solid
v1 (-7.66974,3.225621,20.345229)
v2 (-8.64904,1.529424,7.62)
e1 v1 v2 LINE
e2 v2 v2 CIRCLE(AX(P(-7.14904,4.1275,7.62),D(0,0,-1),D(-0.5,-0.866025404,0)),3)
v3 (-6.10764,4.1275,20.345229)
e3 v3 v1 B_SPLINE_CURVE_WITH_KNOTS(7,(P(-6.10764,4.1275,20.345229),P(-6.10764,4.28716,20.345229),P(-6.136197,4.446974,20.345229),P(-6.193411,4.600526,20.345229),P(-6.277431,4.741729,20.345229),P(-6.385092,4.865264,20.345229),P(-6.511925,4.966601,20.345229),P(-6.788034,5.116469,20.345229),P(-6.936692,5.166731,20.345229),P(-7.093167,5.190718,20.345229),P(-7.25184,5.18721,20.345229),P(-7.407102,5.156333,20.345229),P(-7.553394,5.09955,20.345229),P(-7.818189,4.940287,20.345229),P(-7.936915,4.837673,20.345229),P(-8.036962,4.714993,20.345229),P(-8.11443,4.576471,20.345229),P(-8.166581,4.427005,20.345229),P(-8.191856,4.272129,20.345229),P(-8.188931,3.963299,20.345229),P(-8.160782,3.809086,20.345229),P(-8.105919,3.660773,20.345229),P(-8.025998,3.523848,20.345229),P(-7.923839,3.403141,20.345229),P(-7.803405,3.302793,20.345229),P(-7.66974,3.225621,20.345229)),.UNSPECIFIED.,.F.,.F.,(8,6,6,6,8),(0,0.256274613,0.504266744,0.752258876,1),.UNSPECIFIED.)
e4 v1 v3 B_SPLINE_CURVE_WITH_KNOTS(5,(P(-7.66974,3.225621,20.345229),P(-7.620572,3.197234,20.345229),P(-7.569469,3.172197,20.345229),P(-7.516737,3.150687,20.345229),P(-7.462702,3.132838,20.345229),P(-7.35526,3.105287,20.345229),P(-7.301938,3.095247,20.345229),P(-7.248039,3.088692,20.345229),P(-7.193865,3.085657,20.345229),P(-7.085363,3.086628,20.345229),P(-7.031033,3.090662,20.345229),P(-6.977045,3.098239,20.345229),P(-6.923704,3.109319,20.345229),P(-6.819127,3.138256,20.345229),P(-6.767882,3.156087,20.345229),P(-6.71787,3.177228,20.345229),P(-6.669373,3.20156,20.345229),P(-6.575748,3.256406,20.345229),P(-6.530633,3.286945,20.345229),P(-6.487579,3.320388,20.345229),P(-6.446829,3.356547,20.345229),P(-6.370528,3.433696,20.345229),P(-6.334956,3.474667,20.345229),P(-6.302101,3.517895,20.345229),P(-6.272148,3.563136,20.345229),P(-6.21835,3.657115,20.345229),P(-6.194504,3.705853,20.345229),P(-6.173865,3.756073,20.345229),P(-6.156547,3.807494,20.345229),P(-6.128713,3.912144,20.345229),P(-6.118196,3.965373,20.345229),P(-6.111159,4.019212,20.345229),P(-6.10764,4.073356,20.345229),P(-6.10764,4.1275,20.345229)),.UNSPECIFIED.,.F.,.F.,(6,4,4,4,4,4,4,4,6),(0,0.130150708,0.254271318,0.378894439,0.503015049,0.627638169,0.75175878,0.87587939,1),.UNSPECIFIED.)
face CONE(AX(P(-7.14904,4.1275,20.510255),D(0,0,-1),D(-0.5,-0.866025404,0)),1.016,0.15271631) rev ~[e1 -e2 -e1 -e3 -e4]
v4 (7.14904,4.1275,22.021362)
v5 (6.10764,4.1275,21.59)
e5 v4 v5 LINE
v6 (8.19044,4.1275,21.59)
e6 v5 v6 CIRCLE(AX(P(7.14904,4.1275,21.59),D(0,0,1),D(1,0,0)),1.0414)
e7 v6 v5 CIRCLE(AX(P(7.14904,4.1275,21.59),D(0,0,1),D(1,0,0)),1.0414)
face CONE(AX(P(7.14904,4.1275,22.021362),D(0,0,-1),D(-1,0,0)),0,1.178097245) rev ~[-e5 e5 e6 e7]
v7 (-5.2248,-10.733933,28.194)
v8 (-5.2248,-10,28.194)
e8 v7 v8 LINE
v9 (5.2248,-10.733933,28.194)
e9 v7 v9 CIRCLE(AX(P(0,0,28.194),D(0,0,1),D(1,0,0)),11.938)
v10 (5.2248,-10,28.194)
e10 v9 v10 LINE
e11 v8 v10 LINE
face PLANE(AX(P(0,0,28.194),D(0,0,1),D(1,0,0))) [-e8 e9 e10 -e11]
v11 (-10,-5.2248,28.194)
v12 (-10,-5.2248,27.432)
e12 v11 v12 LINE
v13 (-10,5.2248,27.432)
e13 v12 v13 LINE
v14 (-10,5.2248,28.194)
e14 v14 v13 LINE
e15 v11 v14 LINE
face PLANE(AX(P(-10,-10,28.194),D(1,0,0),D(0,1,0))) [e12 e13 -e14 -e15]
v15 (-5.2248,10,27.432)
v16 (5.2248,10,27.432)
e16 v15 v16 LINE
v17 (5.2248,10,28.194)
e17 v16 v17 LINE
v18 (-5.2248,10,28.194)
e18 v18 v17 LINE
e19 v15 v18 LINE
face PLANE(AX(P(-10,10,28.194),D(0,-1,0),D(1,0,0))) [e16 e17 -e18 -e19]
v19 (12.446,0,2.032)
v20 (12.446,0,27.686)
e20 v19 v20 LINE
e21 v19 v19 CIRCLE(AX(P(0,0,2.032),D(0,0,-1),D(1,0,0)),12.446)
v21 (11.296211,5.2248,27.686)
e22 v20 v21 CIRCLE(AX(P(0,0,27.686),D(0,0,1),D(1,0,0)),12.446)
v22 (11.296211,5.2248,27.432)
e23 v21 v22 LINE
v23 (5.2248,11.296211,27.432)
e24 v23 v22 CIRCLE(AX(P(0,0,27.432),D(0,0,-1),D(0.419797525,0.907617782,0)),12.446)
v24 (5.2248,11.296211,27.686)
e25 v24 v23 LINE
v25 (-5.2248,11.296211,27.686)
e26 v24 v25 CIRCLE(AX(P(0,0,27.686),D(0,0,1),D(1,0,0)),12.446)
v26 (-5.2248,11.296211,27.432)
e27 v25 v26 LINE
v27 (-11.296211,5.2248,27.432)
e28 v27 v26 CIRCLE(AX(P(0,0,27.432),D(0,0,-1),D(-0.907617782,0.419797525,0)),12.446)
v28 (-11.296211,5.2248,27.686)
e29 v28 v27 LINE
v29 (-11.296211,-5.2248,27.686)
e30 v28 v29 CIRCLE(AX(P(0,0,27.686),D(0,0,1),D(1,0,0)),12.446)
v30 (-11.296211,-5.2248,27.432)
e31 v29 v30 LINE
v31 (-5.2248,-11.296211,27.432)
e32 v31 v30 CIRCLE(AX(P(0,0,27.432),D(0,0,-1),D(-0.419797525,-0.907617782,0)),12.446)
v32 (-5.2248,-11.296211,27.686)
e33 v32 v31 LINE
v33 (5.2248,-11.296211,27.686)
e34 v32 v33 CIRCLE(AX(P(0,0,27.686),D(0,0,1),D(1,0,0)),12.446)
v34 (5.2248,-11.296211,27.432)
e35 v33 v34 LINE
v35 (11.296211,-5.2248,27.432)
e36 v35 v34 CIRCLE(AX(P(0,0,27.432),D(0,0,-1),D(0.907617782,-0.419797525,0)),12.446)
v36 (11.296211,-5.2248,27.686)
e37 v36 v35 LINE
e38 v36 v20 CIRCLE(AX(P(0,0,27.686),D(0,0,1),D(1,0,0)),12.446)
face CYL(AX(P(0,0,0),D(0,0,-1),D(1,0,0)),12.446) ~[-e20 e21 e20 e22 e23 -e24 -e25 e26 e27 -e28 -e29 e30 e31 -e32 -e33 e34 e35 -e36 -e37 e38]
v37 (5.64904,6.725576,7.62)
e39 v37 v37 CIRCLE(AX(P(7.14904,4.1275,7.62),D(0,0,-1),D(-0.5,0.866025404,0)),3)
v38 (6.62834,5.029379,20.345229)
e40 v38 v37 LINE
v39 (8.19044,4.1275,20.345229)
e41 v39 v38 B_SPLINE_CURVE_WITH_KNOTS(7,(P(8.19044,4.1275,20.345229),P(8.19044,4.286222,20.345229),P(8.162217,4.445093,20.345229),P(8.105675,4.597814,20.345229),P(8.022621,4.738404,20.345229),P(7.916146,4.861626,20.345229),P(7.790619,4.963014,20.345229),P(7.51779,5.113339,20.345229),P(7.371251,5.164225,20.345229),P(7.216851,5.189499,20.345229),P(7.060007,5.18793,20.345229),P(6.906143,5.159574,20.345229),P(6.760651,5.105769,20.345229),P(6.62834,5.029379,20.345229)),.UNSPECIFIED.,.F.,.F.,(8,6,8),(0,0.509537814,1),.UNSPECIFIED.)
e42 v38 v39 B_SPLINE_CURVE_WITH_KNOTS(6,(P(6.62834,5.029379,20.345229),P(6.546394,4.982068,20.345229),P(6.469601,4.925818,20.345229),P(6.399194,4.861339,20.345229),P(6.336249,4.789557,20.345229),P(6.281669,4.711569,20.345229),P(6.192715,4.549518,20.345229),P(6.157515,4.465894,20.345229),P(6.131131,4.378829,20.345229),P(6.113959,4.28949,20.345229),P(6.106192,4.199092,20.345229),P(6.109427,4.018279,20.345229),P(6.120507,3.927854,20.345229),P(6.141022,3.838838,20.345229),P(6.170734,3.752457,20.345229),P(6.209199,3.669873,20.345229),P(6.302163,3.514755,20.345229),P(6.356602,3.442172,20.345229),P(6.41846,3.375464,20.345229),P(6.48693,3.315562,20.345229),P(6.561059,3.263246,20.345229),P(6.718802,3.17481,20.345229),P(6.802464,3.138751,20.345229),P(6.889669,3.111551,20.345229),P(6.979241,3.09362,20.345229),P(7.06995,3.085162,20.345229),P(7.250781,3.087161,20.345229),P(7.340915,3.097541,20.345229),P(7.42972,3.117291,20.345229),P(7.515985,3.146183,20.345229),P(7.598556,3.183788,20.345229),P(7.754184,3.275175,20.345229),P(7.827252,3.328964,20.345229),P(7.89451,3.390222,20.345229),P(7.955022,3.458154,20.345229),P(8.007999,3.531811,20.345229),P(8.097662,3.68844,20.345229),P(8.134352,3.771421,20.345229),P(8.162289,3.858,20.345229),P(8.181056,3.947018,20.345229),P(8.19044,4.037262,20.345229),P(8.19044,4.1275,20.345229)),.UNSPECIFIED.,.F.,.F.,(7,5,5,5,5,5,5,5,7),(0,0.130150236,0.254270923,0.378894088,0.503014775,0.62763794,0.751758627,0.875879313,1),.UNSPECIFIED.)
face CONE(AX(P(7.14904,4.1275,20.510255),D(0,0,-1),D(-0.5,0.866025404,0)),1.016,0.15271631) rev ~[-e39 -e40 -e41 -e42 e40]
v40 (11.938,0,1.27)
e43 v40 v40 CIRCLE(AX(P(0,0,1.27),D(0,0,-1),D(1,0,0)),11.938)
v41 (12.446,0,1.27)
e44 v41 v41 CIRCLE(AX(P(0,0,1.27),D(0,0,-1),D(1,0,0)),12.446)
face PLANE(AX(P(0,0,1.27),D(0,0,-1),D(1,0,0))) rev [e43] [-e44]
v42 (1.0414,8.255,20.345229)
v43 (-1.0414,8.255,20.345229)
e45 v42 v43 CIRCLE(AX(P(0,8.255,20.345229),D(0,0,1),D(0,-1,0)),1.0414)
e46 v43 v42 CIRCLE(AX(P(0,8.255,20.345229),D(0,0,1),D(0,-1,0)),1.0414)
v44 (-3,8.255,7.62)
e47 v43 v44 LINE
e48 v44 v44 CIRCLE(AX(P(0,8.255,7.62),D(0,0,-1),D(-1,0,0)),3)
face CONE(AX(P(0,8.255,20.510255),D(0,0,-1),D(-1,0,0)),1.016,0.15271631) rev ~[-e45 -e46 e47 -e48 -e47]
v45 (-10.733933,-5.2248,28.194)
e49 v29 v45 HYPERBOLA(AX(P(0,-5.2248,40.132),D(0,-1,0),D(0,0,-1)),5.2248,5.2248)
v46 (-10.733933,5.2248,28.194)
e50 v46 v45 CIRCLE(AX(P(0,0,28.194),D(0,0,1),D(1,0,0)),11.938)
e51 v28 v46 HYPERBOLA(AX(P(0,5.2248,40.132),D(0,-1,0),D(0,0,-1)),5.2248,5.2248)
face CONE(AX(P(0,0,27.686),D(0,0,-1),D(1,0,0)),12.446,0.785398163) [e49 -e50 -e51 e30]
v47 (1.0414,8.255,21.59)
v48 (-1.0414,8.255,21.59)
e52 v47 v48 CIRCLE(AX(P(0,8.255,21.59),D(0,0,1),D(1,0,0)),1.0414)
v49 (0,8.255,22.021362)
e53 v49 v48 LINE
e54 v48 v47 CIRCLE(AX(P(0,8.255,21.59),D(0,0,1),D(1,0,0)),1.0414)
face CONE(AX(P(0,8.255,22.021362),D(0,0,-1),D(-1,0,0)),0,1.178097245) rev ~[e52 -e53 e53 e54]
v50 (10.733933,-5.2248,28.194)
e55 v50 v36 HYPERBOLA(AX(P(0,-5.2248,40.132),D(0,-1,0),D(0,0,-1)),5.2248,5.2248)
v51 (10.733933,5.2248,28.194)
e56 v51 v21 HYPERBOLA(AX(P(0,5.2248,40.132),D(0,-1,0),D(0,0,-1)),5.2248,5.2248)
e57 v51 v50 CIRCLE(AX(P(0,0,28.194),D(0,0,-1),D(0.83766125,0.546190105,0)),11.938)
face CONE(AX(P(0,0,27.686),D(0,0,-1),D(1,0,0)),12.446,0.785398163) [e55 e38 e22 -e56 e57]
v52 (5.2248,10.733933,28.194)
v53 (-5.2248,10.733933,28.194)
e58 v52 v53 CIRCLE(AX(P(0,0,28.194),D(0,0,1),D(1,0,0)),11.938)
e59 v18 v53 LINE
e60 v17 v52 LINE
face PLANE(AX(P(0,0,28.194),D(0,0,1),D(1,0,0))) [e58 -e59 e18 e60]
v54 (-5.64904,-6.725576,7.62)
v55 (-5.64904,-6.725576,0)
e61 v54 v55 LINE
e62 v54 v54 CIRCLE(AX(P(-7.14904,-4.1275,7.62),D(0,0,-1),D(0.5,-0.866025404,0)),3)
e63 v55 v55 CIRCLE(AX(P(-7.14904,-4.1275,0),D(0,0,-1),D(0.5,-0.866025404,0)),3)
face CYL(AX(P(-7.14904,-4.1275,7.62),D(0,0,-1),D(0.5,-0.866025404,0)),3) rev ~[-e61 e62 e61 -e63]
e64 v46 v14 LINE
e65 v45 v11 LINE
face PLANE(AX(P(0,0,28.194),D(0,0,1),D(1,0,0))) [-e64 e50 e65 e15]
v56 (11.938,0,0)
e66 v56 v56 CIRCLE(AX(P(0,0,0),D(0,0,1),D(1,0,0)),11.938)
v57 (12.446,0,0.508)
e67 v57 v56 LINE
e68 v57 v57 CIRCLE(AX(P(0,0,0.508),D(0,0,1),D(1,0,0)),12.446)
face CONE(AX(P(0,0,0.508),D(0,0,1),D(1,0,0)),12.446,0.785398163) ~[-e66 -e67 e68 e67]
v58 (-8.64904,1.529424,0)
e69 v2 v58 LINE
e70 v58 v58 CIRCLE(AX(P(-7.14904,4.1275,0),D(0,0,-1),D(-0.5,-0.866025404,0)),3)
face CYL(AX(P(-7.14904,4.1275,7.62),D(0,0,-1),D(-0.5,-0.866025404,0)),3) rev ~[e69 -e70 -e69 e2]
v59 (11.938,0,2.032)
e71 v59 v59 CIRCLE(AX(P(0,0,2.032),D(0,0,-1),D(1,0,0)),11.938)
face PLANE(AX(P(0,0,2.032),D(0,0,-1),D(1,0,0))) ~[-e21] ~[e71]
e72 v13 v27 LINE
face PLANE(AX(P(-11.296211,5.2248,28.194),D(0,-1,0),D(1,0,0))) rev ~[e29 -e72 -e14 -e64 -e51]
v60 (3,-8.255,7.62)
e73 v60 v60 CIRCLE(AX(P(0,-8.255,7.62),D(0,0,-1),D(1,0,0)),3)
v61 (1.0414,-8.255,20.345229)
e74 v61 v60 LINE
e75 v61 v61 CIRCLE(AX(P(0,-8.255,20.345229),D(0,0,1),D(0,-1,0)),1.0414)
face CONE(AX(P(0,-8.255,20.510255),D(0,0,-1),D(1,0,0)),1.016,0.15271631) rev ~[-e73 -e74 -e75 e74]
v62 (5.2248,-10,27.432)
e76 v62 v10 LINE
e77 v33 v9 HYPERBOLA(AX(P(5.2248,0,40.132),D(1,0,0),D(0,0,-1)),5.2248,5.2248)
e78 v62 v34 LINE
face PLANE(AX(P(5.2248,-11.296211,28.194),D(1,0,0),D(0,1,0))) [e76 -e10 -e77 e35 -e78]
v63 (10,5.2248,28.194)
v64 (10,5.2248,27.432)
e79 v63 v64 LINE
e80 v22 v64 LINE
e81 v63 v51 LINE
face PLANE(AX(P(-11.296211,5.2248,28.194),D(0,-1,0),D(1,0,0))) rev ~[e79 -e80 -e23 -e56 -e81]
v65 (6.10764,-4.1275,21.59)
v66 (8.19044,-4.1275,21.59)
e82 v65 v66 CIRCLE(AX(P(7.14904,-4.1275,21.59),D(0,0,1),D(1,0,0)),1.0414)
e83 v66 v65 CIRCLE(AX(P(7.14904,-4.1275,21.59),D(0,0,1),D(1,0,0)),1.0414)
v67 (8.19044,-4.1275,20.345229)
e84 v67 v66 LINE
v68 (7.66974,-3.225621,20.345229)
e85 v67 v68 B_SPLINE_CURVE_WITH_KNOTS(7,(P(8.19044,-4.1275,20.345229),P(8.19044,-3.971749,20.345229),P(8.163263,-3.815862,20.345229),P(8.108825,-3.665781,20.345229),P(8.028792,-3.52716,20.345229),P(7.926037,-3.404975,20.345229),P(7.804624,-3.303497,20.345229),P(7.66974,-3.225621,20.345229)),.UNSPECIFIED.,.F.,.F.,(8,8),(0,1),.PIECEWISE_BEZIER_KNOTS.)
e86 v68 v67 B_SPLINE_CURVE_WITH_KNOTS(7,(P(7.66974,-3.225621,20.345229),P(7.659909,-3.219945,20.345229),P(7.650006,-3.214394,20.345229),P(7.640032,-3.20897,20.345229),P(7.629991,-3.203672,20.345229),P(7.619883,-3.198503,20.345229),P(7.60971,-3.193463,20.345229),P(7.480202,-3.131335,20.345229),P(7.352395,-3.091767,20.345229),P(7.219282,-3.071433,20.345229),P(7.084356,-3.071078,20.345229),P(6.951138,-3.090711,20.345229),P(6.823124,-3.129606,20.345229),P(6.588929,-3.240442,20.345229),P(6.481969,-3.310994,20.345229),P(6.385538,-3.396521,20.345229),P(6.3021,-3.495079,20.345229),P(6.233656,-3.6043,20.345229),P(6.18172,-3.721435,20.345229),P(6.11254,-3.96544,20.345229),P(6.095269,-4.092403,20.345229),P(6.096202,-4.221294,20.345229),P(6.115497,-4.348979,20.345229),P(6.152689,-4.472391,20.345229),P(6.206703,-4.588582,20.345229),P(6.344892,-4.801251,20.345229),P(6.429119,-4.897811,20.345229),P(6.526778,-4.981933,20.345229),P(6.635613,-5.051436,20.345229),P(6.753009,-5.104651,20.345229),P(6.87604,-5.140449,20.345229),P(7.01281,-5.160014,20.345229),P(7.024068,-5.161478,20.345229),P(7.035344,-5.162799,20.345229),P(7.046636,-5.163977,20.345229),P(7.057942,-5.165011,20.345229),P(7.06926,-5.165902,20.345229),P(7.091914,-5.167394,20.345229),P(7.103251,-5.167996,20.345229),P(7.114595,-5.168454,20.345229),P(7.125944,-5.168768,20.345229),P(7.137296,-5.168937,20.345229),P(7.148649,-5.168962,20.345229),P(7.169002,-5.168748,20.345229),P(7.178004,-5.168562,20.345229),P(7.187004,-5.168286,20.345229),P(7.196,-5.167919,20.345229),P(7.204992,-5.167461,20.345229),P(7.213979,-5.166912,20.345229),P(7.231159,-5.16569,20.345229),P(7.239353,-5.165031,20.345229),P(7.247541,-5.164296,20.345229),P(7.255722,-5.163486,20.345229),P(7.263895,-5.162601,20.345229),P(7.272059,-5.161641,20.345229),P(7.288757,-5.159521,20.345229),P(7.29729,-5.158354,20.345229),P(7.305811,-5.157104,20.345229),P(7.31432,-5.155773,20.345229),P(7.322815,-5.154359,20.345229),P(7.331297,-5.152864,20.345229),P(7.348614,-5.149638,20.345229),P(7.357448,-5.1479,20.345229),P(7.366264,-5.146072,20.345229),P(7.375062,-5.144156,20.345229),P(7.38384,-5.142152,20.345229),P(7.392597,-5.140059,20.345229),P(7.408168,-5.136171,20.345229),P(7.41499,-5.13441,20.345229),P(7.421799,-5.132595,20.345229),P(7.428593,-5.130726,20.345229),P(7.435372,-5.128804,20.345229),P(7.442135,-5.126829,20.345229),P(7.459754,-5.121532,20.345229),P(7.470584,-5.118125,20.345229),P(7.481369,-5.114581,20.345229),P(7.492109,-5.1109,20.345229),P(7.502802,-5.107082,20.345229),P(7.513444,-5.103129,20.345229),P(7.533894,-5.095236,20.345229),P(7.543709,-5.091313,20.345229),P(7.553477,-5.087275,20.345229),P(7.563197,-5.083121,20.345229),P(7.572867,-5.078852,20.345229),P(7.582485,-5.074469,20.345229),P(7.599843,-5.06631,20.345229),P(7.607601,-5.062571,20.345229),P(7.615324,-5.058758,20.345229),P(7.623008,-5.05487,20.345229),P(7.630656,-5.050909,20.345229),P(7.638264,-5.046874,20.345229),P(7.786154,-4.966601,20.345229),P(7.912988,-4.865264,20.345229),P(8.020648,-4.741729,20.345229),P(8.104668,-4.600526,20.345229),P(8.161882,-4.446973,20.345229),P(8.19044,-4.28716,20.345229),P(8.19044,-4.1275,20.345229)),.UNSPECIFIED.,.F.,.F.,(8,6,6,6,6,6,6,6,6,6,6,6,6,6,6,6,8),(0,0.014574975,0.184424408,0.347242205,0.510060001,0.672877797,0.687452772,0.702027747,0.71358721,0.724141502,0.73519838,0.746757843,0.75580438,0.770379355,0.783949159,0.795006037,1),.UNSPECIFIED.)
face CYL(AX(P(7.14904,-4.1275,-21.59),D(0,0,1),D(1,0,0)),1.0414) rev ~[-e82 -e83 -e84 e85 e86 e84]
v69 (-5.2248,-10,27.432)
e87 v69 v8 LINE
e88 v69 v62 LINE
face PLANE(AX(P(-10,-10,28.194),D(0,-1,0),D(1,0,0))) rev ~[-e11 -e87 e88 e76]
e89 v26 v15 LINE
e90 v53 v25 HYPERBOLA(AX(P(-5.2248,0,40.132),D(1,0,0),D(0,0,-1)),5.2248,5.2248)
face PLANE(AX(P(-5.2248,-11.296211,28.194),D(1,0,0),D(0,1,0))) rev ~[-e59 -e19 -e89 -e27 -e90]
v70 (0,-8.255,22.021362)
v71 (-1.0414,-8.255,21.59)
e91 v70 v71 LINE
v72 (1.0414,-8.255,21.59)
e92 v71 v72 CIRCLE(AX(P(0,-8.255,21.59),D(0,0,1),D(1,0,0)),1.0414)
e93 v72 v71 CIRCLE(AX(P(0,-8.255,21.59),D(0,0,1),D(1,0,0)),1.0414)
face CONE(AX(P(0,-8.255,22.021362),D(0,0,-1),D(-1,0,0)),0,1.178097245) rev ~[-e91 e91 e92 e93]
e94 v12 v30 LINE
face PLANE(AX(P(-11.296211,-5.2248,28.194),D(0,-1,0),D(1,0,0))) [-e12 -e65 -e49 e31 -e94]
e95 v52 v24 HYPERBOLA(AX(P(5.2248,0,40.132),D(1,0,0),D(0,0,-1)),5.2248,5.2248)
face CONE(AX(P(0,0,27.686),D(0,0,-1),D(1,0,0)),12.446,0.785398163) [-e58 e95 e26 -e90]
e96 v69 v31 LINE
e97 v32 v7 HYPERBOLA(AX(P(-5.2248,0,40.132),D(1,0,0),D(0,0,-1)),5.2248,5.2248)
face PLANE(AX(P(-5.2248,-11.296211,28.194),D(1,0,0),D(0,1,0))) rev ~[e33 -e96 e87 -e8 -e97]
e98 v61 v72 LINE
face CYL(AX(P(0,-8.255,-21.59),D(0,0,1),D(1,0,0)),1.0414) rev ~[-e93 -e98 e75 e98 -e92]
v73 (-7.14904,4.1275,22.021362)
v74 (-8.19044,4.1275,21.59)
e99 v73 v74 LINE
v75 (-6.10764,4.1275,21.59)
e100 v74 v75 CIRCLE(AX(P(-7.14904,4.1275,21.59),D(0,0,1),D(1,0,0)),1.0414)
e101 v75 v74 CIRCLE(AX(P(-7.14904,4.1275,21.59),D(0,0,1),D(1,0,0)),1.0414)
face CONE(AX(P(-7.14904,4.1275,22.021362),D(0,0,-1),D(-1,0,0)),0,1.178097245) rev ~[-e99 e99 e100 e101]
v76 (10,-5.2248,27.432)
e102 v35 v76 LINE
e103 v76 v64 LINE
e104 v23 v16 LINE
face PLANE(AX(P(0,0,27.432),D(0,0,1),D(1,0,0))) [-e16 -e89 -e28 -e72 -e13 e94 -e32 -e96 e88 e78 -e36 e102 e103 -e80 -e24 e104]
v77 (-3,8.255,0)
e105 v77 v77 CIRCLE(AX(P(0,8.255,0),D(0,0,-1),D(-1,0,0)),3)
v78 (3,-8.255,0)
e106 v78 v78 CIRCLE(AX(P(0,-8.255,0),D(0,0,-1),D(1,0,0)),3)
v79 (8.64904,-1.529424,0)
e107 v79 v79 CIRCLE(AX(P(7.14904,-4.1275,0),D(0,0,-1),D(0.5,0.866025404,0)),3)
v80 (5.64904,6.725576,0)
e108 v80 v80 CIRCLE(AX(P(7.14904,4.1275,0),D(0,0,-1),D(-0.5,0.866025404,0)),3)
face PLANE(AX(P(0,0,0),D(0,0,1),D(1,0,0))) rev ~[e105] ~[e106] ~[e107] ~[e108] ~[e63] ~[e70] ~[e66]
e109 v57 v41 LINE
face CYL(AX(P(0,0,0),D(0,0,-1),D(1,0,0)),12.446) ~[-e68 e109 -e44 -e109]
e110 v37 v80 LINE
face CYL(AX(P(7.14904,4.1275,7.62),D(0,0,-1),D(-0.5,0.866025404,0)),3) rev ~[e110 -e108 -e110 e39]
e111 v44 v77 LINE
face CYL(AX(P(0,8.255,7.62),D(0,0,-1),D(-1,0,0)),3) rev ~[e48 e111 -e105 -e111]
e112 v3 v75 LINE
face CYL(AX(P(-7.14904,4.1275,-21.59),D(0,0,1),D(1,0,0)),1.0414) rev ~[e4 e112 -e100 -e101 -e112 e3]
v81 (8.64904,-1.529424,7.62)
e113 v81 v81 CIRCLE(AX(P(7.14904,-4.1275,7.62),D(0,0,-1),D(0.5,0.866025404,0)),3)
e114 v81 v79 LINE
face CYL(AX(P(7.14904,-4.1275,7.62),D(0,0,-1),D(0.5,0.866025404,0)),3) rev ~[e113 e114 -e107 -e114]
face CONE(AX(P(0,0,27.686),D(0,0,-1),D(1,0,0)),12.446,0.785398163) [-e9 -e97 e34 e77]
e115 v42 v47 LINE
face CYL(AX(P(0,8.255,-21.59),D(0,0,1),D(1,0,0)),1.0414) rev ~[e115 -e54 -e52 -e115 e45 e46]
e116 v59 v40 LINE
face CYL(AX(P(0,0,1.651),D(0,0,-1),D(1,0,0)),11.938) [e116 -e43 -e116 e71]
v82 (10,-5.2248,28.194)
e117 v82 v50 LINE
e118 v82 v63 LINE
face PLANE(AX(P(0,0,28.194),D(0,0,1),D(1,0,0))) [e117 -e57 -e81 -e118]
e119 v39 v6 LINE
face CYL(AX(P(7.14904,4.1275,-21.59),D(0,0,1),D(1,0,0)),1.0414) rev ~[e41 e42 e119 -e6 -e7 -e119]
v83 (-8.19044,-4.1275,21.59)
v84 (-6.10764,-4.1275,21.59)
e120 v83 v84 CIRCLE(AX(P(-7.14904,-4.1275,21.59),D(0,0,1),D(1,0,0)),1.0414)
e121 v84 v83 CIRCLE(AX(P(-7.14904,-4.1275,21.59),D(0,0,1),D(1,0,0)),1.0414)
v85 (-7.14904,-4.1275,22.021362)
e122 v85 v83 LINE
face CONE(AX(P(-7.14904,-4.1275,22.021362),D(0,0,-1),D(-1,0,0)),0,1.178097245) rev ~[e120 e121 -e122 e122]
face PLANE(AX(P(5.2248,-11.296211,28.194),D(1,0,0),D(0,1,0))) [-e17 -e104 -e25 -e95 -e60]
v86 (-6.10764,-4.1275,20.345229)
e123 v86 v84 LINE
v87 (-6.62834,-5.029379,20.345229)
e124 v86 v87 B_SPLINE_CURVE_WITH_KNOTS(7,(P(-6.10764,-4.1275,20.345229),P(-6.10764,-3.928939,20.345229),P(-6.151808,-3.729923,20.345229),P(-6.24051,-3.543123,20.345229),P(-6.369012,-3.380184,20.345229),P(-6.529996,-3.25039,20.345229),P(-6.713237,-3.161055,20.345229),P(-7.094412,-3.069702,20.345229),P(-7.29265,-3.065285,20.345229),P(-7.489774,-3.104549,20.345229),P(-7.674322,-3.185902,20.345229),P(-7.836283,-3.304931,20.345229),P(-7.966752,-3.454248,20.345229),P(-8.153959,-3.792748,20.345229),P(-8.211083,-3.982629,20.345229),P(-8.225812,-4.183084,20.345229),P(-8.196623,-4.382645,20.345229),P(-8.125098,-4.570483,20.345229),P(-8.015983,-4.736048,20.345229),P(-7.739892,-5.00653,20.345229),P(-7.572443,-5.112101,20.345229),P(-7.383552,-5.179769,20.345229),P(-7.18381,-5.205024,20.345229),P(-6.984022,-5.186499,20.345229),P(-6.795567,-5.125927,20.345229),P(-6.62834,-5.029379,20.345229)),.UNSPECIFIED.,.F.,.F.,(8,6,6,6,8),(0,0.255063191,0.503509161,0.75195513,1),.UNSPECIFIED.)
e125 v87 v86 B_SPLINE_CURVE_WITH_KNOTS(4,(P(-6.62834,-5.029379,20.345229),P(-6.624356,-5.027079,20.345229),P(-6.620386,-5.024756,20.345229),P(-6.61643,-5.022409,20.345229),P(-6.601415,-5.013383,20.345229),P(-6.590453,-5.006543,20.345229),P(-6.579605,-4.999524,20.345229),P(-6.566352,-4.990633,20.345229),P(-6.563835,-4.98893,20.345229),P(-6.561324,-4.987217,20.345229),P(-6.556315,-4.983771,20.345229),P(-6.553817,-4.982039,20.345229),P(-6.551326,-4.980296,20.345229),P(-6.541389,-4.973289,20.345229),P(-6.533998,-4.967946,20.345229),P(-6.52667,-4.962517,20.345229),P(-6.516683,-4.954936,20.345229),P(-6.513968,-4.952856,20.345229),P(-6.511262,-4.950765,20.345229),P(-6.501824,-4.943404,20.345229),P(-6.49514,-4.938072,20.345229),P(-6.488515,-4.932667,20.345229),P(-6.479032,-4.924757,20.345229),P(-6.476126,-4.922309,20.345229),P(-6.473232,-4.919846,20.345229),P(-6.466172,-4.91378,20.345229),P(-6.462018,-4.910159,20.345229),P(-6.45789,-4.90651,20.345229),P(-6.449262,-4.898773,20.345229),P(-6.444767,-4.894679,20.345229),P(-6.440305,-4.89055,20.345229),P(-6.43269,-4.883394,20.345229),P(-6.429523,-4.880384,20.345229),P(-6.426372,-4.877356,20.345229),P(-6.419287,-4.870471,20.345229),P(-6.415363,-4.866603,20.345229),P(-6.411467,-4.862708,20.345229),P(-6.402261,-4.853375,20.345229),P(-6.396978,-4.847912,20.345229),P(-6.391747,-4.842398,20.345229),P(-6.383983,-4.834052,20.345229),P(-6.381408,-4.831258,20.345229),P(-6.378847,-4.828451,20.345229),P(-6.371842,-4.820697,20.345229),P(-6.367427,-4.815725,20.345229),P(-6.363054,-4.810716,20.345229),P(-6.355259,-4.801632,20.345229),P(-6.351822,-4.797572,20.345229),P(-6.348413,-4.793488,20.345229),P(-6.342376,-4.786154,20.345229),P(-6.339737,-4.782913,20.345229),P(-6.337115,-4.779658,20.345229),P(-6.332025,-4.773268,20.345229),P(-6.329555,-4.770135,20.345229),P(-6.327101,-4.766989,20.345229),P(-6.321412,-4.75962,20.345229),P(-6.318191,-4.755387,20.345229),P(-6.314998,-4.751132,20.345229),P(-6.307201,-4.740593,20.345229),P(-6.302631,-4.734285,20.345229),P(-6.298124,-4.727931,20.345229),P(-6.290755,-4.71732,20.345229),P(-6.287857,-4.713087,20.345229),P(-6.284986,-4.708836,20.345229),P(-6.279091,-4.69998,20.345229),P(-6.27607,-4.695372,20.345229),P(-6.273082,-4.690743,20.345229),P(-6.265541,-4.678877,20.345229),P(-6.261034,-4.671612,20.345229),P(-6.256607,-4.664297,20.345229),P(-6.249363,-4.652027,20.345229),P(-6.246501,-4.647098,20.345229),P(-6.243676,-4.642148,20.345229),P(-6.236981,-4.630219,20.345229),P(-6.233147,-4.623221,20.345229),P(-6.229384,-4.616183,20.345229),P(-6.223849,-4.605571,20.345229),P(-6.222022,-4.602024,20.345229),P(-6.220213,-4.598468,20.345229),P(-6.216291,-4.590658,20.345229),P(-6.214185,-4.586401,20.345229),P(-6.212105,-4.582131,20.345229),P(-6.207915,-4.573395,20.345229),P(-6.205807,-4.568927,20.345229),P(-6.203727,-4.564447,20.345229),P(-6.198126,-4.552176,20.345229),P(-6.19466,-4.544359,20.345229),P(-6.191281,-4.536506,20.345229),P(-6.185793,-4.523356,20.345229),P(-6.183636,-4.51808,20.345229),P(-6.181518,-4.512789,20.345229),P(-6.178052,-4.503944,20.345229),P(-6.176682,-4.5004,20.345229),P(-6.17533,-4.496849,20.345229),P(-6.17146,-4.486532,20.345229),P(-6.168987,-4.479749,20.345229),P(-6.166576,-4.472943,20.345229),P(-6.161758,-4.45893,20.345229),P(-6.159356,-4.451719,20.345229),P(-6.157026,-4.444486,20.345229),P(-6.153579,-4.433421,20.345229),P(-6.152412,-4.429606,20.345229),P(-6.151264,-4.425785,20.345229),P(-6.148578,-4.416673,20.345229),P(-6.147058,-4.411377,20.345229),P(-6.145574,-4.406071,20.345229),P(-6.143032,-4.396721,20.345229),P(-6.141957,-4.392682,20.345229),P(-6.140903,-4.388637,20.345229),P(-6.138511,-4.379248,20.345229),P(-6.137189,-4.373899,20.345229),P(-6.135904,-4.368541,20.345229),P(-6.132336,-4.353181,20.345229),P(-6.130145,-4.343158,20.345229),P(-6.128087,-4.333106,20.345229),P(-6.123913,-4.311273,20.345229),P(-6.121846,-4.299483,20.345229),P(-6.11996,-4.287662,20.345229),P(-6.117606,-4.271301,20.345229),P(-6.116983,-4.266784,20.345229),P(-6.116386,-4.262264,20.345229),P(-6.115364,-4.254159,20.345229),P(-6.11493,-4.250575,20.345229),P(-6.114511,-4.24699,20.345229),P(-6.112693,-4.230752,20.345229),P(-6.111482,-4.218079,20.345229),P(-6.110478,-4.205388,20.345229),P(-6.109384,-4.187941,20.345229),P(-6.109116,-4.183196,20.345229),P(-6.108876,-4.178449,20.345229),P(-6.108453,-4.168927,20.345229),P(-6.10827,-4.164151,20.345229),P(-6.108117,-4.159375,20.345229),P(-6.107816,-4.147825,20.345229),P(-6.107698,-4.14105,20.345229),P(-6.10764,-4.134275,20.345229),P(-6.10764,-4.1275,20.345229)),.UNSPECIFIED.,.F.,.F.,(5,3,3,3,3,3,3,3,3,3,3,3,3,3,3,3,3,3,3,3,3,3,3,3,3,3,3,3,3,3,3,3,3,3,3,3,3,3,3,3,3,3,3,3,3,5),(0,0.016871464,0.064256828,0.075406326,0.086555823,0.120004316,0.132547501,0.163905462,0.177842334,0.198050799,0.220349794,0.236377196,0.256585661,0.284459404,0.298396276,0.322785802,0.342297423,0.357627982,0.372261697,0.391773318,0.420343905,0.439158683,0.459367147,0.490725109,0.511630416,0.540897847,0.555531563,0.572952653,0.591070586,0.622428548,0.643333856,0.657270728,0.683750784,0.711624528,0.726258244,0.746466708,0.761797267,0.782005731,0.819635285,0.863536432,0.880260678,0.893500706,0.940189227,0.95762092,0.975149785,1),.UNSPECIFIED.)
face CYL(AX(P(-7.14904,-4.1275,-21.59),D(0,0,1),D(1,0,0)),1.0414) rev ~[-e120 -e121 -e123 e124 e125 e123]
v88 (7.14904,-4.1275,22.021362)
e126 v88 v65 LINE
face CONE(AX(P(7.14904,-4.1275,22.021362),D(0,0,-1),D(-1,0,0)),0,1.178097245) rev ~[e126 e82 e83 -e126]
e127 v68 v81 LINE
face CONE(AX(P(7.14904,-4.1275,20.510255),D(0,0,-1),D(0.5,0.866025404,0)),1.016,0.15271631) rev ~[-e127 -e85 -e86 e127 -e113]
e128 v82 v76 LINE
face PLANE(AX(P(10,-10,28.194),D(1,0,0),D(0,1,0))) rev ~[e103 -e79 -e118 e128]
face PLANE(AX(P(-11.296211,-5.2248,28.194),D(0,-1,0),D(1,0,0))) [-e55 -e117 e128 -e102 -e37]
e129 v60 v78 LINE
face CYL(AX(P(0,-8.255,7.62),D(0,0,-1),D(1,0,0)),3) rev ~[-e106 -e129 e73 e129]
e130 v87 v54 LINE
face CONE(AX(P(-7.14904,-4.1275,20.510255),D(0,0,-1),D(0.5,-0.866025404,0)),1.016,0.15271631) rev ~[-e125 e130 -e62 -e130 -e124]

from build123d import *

# Parameters (mm, degrees)
SKETCH2_R                       = 12.446
BOSS_EXTRUDE1_DEPTH             = 28.194
CHAMFER1_SIZE                   = 0.508
F_45_0_082_DIAMETER_HOLE1_D     = 2.0828
F_45_0_082_DIAMETER_HOLE1_DEPTH = 21.59
F_45_0_082_DIAMETER_HOLE1_TIP   = 0.431362004
SKETCH11_W                      = 20
SKETCH11_H                      = 20
CUT_EXTRUDE1_DEPTH              = 0.762
CUT_EXTRUDE2_REACH              = 35.237
SKETCH13_W                      = 22.592421824
SKETCH13_H                      = 4.7752
CUT_EXTRUDE3_REACH              = 35.237
SKETCH14_W                      = 4.7752
SKETCH14_H                      = 22.592421824
CIRPATTERN2_COUNT               = 6
SKETCH18_W                      = 0.762
SKETCH18_H                      = 0.508


with BuildPart() as part:
    # Sketch2 → Boss-Extrude1 (new body)
    with BuildSketch(Plane.XY):
        Circle(SKETCH2_R)
    extrude(amount=BOSS_EXTRUDE1_DEPTH)

    # Chamfer1
    chamfer1_edges = [part.edges().sort_by_distance(p)[0] for p in [
        (-12.446, 0, 0),
        (-12.446, 0, 28.194),
    ]]
    chamfer(chamfer1_edges, length=CHAMFER1_SIZE)

    # #45 (0.082) Diameter Hole1
    with Locations(Plane(origin=(0, 0, 0), x_dir=(-1, 0, 0), z_dir=(0, 0, -1))):
        with Locations((0, 8.255), (-7.149039708, 4.1275), (-7.149039708, -4.1275), (0, -8.255), (7.149039708, -4.1275), (7.149039708, 4.1275)):
            Hole(F_45_0_082_DIAMETER_HOLE1_D / 2, depth=F_45_0_082_DIAMETER_HOLE1_DEPTH)
            with Locations((0, 0, -(F_45_0_082_DIAMETER_HOLE1_DEPTH + F_45_0_082_DIAMETER_HOLE1_TIP / 2))):  # 135° drill point
                Cone(0, F_45_0_082_DIAMETER_HOLE1_D / 2, F_45_0_082_DIAMETER_HOLE1_TIP, mode=Mode.SUBTRACT)

    # Sketch11 → Cut-Extrude1 (cut)
    with BuildSketch(Plane.XY.offset(28.194)):
        Rectangle(SKETCH11_W, SKETCH11_H)
    extrude(amount=-CUT_EXTRUDE1_DEPTH, mode=Mode.SUBTRACT)

    # Cut-Extrude2: up to this face of the body (flat: up to its plane)
    cut_extrude2_end = Plane(part.part.faces().sort_by_distance((0, 0, 27.432))[0])
    # Sketch13 → Cut-Extrude2 (cut, up to the picked face)
    with BuildSketch(Plane.XY.offset(28.194), mode=Mode.PRIVATE) as cut_extrude2_sk1:
        with Locations((0, 7.6124)):
            Rectangle(SKETCH13_W, SKETCH13_H)
    cut_extrude2_tool1 = split(extrude(cut_extrude2_sk1.sketch, amount=-CUT_EXTRUDE2_REACH, mode=Mode.PRIVATE), bisect_by=cut_extrude2_end, keep=Keep.BOTH, mode=Mode.PRIVATE)
    # Sketch13 → Cut-Extrude2 (cut, up to the picked face)
    with BuildSketch(Plane.XY.offset(28.194), mode=Mode.PRIVATE) as cut_extrude2_sk2:
        with Locations((0, -7.6124)):
            Rectangle(SKETCH13_W, SKETCH13_H)
    cut_extrude2_tool2 = split(extrude(cut_extrude2_sk2.sketch, amount=-CUT_EXTRUDE2_REACH, mode=Mode.PRIVATE), bisect_by=cut_extrude2_end, keep=Keep.BOTH, mode=Mode.PRIVATE)
    add(cut_extrude2_tool1.solids().sort_by(Axis((0, 7.6124, 28.194), (0, 0, -1)))[0], mode=Mode.SUBTRACT)
    add(cut_extrude2_tool2.solids().sort_by(Axis((0, -7.6124, 28.194), (0, 0, -1)))[0], mode=Mode.SUBTRACT)

    # Cut-Extrude3: up to this face of the body (flat: up to its plane)
    cut_extrude3_end = Plane(part.part.faces().sort_by_distance((0, 0, 27.432))[0])
    # Sketch14 → Cut-Extrude3 (cut, up to the picked face)
    with BuildSketch(Plane.XY.offset(28.194), mode=Mode.PRIVATE) as cut_extrude3_sk1:
        with Locations((-7.6124, 0)):
            Rectangle(SKETCH14_W, SKETCH14_H)
    cut_extrude3_tool1 = split(extrude(cut_extrude3_sk1.sketch, amount=-CUT_EXTRUDE3_REACH, mode=Mode.PRIVATE), bisect_by=cut_extrude3_end, keep=Keep.BOTH, mode=Mode.PRIVATE)
    # Sketch14 → Cut-Extrude3 (cut, up to the picked face)
    with BuildSketch(Plane.XY.offset(28.194), mode=Mode.PRIVATE) as cut_extrude3_sk2:
        with Locations((7.6124, 0)):
            Rectangle(SKETCH14_W, SKETCH14_H)
    cut_extrude3_tool2 = split(extrude(cut_extrude3_sk2.sketch, amount=-CUT_EXTRUDE3_REACH, mode=Mode.PRIVATE), bisect_by=cut_extrude3_end, keep=Keep.BOTH, mode=Mode.PRIVATE)
    add(cut_extrude3_tool1.solids().sort_by(Axis((-7.6124, 0, 28.194), (0, 0, -1)))[0], mode=Mode.SUBTRACT)
    add(cut_extrude3_tool2.solids().sort_by(Axis((7.6124, 0, 28.194), (0, 0, -1)))[0], mode=Mode.SUBTRACT)

    # Sketch17 → Cut-Revolve2 (revolve, cut)
    with BuildSketch(Plane(origin=(0, 0, 0), x_dir=(0, 0, -1), z_dir=(1, 0, 0)), mode=Mode.PRIVATE) as cut_revolve2_sk:
        Polygon((-20.510254982, 8.255), (-20.510254982, 9.271), (-7.62, 11.255), (0, 11.255), (0, 8.255), (-7.62, 8.255), align=None)
    cut_revolve2 = revolve(cut_revolve2_sk.sketch.rotate(Axis((0, 8.255, 20.510254982), (0, 0, -1)), 270), axis=Axis((0, 8.255, 20.510254982), (0, 0, -1)), mode=Mode.SUBTRACT)

    # CirPattern2: Cut-Revolve2 ×6 about axis
    cirpattern2_axis = Axis((0, 0, 0), (0, 0, 1))
    for i in range(1, CIRPATTERN2_COUNT):
        add(cut_revolve2.rotate(cirpattern2_axis, i * 360 / CIRPATTERN2_COUNT), mode=Mode.SUBTRACT)

    # Sketch18 → Cut-Revolve3 (revolve, cut)
    with BuildSketch(Plane(origin=(0, 0, 0), x_dir=(0, 0, -1), z_dir=(1, 0, 0)), mode=Mode.PRIVATE) as cut_revolve3_sk:
        with Locations((-1.651, 12.192)):
            Rectangle(SKETCH18_W, SKETCH18_H)
    revolve(cut_revolve3_sk.sketch.rotate(Axis((0, 0, 27.686), (0, 0, -1)), 90), axis=Axis((0, 0, 27.686), (0, 0, -1)), mode=Mode.SUBTRACT)


solid = part.part
